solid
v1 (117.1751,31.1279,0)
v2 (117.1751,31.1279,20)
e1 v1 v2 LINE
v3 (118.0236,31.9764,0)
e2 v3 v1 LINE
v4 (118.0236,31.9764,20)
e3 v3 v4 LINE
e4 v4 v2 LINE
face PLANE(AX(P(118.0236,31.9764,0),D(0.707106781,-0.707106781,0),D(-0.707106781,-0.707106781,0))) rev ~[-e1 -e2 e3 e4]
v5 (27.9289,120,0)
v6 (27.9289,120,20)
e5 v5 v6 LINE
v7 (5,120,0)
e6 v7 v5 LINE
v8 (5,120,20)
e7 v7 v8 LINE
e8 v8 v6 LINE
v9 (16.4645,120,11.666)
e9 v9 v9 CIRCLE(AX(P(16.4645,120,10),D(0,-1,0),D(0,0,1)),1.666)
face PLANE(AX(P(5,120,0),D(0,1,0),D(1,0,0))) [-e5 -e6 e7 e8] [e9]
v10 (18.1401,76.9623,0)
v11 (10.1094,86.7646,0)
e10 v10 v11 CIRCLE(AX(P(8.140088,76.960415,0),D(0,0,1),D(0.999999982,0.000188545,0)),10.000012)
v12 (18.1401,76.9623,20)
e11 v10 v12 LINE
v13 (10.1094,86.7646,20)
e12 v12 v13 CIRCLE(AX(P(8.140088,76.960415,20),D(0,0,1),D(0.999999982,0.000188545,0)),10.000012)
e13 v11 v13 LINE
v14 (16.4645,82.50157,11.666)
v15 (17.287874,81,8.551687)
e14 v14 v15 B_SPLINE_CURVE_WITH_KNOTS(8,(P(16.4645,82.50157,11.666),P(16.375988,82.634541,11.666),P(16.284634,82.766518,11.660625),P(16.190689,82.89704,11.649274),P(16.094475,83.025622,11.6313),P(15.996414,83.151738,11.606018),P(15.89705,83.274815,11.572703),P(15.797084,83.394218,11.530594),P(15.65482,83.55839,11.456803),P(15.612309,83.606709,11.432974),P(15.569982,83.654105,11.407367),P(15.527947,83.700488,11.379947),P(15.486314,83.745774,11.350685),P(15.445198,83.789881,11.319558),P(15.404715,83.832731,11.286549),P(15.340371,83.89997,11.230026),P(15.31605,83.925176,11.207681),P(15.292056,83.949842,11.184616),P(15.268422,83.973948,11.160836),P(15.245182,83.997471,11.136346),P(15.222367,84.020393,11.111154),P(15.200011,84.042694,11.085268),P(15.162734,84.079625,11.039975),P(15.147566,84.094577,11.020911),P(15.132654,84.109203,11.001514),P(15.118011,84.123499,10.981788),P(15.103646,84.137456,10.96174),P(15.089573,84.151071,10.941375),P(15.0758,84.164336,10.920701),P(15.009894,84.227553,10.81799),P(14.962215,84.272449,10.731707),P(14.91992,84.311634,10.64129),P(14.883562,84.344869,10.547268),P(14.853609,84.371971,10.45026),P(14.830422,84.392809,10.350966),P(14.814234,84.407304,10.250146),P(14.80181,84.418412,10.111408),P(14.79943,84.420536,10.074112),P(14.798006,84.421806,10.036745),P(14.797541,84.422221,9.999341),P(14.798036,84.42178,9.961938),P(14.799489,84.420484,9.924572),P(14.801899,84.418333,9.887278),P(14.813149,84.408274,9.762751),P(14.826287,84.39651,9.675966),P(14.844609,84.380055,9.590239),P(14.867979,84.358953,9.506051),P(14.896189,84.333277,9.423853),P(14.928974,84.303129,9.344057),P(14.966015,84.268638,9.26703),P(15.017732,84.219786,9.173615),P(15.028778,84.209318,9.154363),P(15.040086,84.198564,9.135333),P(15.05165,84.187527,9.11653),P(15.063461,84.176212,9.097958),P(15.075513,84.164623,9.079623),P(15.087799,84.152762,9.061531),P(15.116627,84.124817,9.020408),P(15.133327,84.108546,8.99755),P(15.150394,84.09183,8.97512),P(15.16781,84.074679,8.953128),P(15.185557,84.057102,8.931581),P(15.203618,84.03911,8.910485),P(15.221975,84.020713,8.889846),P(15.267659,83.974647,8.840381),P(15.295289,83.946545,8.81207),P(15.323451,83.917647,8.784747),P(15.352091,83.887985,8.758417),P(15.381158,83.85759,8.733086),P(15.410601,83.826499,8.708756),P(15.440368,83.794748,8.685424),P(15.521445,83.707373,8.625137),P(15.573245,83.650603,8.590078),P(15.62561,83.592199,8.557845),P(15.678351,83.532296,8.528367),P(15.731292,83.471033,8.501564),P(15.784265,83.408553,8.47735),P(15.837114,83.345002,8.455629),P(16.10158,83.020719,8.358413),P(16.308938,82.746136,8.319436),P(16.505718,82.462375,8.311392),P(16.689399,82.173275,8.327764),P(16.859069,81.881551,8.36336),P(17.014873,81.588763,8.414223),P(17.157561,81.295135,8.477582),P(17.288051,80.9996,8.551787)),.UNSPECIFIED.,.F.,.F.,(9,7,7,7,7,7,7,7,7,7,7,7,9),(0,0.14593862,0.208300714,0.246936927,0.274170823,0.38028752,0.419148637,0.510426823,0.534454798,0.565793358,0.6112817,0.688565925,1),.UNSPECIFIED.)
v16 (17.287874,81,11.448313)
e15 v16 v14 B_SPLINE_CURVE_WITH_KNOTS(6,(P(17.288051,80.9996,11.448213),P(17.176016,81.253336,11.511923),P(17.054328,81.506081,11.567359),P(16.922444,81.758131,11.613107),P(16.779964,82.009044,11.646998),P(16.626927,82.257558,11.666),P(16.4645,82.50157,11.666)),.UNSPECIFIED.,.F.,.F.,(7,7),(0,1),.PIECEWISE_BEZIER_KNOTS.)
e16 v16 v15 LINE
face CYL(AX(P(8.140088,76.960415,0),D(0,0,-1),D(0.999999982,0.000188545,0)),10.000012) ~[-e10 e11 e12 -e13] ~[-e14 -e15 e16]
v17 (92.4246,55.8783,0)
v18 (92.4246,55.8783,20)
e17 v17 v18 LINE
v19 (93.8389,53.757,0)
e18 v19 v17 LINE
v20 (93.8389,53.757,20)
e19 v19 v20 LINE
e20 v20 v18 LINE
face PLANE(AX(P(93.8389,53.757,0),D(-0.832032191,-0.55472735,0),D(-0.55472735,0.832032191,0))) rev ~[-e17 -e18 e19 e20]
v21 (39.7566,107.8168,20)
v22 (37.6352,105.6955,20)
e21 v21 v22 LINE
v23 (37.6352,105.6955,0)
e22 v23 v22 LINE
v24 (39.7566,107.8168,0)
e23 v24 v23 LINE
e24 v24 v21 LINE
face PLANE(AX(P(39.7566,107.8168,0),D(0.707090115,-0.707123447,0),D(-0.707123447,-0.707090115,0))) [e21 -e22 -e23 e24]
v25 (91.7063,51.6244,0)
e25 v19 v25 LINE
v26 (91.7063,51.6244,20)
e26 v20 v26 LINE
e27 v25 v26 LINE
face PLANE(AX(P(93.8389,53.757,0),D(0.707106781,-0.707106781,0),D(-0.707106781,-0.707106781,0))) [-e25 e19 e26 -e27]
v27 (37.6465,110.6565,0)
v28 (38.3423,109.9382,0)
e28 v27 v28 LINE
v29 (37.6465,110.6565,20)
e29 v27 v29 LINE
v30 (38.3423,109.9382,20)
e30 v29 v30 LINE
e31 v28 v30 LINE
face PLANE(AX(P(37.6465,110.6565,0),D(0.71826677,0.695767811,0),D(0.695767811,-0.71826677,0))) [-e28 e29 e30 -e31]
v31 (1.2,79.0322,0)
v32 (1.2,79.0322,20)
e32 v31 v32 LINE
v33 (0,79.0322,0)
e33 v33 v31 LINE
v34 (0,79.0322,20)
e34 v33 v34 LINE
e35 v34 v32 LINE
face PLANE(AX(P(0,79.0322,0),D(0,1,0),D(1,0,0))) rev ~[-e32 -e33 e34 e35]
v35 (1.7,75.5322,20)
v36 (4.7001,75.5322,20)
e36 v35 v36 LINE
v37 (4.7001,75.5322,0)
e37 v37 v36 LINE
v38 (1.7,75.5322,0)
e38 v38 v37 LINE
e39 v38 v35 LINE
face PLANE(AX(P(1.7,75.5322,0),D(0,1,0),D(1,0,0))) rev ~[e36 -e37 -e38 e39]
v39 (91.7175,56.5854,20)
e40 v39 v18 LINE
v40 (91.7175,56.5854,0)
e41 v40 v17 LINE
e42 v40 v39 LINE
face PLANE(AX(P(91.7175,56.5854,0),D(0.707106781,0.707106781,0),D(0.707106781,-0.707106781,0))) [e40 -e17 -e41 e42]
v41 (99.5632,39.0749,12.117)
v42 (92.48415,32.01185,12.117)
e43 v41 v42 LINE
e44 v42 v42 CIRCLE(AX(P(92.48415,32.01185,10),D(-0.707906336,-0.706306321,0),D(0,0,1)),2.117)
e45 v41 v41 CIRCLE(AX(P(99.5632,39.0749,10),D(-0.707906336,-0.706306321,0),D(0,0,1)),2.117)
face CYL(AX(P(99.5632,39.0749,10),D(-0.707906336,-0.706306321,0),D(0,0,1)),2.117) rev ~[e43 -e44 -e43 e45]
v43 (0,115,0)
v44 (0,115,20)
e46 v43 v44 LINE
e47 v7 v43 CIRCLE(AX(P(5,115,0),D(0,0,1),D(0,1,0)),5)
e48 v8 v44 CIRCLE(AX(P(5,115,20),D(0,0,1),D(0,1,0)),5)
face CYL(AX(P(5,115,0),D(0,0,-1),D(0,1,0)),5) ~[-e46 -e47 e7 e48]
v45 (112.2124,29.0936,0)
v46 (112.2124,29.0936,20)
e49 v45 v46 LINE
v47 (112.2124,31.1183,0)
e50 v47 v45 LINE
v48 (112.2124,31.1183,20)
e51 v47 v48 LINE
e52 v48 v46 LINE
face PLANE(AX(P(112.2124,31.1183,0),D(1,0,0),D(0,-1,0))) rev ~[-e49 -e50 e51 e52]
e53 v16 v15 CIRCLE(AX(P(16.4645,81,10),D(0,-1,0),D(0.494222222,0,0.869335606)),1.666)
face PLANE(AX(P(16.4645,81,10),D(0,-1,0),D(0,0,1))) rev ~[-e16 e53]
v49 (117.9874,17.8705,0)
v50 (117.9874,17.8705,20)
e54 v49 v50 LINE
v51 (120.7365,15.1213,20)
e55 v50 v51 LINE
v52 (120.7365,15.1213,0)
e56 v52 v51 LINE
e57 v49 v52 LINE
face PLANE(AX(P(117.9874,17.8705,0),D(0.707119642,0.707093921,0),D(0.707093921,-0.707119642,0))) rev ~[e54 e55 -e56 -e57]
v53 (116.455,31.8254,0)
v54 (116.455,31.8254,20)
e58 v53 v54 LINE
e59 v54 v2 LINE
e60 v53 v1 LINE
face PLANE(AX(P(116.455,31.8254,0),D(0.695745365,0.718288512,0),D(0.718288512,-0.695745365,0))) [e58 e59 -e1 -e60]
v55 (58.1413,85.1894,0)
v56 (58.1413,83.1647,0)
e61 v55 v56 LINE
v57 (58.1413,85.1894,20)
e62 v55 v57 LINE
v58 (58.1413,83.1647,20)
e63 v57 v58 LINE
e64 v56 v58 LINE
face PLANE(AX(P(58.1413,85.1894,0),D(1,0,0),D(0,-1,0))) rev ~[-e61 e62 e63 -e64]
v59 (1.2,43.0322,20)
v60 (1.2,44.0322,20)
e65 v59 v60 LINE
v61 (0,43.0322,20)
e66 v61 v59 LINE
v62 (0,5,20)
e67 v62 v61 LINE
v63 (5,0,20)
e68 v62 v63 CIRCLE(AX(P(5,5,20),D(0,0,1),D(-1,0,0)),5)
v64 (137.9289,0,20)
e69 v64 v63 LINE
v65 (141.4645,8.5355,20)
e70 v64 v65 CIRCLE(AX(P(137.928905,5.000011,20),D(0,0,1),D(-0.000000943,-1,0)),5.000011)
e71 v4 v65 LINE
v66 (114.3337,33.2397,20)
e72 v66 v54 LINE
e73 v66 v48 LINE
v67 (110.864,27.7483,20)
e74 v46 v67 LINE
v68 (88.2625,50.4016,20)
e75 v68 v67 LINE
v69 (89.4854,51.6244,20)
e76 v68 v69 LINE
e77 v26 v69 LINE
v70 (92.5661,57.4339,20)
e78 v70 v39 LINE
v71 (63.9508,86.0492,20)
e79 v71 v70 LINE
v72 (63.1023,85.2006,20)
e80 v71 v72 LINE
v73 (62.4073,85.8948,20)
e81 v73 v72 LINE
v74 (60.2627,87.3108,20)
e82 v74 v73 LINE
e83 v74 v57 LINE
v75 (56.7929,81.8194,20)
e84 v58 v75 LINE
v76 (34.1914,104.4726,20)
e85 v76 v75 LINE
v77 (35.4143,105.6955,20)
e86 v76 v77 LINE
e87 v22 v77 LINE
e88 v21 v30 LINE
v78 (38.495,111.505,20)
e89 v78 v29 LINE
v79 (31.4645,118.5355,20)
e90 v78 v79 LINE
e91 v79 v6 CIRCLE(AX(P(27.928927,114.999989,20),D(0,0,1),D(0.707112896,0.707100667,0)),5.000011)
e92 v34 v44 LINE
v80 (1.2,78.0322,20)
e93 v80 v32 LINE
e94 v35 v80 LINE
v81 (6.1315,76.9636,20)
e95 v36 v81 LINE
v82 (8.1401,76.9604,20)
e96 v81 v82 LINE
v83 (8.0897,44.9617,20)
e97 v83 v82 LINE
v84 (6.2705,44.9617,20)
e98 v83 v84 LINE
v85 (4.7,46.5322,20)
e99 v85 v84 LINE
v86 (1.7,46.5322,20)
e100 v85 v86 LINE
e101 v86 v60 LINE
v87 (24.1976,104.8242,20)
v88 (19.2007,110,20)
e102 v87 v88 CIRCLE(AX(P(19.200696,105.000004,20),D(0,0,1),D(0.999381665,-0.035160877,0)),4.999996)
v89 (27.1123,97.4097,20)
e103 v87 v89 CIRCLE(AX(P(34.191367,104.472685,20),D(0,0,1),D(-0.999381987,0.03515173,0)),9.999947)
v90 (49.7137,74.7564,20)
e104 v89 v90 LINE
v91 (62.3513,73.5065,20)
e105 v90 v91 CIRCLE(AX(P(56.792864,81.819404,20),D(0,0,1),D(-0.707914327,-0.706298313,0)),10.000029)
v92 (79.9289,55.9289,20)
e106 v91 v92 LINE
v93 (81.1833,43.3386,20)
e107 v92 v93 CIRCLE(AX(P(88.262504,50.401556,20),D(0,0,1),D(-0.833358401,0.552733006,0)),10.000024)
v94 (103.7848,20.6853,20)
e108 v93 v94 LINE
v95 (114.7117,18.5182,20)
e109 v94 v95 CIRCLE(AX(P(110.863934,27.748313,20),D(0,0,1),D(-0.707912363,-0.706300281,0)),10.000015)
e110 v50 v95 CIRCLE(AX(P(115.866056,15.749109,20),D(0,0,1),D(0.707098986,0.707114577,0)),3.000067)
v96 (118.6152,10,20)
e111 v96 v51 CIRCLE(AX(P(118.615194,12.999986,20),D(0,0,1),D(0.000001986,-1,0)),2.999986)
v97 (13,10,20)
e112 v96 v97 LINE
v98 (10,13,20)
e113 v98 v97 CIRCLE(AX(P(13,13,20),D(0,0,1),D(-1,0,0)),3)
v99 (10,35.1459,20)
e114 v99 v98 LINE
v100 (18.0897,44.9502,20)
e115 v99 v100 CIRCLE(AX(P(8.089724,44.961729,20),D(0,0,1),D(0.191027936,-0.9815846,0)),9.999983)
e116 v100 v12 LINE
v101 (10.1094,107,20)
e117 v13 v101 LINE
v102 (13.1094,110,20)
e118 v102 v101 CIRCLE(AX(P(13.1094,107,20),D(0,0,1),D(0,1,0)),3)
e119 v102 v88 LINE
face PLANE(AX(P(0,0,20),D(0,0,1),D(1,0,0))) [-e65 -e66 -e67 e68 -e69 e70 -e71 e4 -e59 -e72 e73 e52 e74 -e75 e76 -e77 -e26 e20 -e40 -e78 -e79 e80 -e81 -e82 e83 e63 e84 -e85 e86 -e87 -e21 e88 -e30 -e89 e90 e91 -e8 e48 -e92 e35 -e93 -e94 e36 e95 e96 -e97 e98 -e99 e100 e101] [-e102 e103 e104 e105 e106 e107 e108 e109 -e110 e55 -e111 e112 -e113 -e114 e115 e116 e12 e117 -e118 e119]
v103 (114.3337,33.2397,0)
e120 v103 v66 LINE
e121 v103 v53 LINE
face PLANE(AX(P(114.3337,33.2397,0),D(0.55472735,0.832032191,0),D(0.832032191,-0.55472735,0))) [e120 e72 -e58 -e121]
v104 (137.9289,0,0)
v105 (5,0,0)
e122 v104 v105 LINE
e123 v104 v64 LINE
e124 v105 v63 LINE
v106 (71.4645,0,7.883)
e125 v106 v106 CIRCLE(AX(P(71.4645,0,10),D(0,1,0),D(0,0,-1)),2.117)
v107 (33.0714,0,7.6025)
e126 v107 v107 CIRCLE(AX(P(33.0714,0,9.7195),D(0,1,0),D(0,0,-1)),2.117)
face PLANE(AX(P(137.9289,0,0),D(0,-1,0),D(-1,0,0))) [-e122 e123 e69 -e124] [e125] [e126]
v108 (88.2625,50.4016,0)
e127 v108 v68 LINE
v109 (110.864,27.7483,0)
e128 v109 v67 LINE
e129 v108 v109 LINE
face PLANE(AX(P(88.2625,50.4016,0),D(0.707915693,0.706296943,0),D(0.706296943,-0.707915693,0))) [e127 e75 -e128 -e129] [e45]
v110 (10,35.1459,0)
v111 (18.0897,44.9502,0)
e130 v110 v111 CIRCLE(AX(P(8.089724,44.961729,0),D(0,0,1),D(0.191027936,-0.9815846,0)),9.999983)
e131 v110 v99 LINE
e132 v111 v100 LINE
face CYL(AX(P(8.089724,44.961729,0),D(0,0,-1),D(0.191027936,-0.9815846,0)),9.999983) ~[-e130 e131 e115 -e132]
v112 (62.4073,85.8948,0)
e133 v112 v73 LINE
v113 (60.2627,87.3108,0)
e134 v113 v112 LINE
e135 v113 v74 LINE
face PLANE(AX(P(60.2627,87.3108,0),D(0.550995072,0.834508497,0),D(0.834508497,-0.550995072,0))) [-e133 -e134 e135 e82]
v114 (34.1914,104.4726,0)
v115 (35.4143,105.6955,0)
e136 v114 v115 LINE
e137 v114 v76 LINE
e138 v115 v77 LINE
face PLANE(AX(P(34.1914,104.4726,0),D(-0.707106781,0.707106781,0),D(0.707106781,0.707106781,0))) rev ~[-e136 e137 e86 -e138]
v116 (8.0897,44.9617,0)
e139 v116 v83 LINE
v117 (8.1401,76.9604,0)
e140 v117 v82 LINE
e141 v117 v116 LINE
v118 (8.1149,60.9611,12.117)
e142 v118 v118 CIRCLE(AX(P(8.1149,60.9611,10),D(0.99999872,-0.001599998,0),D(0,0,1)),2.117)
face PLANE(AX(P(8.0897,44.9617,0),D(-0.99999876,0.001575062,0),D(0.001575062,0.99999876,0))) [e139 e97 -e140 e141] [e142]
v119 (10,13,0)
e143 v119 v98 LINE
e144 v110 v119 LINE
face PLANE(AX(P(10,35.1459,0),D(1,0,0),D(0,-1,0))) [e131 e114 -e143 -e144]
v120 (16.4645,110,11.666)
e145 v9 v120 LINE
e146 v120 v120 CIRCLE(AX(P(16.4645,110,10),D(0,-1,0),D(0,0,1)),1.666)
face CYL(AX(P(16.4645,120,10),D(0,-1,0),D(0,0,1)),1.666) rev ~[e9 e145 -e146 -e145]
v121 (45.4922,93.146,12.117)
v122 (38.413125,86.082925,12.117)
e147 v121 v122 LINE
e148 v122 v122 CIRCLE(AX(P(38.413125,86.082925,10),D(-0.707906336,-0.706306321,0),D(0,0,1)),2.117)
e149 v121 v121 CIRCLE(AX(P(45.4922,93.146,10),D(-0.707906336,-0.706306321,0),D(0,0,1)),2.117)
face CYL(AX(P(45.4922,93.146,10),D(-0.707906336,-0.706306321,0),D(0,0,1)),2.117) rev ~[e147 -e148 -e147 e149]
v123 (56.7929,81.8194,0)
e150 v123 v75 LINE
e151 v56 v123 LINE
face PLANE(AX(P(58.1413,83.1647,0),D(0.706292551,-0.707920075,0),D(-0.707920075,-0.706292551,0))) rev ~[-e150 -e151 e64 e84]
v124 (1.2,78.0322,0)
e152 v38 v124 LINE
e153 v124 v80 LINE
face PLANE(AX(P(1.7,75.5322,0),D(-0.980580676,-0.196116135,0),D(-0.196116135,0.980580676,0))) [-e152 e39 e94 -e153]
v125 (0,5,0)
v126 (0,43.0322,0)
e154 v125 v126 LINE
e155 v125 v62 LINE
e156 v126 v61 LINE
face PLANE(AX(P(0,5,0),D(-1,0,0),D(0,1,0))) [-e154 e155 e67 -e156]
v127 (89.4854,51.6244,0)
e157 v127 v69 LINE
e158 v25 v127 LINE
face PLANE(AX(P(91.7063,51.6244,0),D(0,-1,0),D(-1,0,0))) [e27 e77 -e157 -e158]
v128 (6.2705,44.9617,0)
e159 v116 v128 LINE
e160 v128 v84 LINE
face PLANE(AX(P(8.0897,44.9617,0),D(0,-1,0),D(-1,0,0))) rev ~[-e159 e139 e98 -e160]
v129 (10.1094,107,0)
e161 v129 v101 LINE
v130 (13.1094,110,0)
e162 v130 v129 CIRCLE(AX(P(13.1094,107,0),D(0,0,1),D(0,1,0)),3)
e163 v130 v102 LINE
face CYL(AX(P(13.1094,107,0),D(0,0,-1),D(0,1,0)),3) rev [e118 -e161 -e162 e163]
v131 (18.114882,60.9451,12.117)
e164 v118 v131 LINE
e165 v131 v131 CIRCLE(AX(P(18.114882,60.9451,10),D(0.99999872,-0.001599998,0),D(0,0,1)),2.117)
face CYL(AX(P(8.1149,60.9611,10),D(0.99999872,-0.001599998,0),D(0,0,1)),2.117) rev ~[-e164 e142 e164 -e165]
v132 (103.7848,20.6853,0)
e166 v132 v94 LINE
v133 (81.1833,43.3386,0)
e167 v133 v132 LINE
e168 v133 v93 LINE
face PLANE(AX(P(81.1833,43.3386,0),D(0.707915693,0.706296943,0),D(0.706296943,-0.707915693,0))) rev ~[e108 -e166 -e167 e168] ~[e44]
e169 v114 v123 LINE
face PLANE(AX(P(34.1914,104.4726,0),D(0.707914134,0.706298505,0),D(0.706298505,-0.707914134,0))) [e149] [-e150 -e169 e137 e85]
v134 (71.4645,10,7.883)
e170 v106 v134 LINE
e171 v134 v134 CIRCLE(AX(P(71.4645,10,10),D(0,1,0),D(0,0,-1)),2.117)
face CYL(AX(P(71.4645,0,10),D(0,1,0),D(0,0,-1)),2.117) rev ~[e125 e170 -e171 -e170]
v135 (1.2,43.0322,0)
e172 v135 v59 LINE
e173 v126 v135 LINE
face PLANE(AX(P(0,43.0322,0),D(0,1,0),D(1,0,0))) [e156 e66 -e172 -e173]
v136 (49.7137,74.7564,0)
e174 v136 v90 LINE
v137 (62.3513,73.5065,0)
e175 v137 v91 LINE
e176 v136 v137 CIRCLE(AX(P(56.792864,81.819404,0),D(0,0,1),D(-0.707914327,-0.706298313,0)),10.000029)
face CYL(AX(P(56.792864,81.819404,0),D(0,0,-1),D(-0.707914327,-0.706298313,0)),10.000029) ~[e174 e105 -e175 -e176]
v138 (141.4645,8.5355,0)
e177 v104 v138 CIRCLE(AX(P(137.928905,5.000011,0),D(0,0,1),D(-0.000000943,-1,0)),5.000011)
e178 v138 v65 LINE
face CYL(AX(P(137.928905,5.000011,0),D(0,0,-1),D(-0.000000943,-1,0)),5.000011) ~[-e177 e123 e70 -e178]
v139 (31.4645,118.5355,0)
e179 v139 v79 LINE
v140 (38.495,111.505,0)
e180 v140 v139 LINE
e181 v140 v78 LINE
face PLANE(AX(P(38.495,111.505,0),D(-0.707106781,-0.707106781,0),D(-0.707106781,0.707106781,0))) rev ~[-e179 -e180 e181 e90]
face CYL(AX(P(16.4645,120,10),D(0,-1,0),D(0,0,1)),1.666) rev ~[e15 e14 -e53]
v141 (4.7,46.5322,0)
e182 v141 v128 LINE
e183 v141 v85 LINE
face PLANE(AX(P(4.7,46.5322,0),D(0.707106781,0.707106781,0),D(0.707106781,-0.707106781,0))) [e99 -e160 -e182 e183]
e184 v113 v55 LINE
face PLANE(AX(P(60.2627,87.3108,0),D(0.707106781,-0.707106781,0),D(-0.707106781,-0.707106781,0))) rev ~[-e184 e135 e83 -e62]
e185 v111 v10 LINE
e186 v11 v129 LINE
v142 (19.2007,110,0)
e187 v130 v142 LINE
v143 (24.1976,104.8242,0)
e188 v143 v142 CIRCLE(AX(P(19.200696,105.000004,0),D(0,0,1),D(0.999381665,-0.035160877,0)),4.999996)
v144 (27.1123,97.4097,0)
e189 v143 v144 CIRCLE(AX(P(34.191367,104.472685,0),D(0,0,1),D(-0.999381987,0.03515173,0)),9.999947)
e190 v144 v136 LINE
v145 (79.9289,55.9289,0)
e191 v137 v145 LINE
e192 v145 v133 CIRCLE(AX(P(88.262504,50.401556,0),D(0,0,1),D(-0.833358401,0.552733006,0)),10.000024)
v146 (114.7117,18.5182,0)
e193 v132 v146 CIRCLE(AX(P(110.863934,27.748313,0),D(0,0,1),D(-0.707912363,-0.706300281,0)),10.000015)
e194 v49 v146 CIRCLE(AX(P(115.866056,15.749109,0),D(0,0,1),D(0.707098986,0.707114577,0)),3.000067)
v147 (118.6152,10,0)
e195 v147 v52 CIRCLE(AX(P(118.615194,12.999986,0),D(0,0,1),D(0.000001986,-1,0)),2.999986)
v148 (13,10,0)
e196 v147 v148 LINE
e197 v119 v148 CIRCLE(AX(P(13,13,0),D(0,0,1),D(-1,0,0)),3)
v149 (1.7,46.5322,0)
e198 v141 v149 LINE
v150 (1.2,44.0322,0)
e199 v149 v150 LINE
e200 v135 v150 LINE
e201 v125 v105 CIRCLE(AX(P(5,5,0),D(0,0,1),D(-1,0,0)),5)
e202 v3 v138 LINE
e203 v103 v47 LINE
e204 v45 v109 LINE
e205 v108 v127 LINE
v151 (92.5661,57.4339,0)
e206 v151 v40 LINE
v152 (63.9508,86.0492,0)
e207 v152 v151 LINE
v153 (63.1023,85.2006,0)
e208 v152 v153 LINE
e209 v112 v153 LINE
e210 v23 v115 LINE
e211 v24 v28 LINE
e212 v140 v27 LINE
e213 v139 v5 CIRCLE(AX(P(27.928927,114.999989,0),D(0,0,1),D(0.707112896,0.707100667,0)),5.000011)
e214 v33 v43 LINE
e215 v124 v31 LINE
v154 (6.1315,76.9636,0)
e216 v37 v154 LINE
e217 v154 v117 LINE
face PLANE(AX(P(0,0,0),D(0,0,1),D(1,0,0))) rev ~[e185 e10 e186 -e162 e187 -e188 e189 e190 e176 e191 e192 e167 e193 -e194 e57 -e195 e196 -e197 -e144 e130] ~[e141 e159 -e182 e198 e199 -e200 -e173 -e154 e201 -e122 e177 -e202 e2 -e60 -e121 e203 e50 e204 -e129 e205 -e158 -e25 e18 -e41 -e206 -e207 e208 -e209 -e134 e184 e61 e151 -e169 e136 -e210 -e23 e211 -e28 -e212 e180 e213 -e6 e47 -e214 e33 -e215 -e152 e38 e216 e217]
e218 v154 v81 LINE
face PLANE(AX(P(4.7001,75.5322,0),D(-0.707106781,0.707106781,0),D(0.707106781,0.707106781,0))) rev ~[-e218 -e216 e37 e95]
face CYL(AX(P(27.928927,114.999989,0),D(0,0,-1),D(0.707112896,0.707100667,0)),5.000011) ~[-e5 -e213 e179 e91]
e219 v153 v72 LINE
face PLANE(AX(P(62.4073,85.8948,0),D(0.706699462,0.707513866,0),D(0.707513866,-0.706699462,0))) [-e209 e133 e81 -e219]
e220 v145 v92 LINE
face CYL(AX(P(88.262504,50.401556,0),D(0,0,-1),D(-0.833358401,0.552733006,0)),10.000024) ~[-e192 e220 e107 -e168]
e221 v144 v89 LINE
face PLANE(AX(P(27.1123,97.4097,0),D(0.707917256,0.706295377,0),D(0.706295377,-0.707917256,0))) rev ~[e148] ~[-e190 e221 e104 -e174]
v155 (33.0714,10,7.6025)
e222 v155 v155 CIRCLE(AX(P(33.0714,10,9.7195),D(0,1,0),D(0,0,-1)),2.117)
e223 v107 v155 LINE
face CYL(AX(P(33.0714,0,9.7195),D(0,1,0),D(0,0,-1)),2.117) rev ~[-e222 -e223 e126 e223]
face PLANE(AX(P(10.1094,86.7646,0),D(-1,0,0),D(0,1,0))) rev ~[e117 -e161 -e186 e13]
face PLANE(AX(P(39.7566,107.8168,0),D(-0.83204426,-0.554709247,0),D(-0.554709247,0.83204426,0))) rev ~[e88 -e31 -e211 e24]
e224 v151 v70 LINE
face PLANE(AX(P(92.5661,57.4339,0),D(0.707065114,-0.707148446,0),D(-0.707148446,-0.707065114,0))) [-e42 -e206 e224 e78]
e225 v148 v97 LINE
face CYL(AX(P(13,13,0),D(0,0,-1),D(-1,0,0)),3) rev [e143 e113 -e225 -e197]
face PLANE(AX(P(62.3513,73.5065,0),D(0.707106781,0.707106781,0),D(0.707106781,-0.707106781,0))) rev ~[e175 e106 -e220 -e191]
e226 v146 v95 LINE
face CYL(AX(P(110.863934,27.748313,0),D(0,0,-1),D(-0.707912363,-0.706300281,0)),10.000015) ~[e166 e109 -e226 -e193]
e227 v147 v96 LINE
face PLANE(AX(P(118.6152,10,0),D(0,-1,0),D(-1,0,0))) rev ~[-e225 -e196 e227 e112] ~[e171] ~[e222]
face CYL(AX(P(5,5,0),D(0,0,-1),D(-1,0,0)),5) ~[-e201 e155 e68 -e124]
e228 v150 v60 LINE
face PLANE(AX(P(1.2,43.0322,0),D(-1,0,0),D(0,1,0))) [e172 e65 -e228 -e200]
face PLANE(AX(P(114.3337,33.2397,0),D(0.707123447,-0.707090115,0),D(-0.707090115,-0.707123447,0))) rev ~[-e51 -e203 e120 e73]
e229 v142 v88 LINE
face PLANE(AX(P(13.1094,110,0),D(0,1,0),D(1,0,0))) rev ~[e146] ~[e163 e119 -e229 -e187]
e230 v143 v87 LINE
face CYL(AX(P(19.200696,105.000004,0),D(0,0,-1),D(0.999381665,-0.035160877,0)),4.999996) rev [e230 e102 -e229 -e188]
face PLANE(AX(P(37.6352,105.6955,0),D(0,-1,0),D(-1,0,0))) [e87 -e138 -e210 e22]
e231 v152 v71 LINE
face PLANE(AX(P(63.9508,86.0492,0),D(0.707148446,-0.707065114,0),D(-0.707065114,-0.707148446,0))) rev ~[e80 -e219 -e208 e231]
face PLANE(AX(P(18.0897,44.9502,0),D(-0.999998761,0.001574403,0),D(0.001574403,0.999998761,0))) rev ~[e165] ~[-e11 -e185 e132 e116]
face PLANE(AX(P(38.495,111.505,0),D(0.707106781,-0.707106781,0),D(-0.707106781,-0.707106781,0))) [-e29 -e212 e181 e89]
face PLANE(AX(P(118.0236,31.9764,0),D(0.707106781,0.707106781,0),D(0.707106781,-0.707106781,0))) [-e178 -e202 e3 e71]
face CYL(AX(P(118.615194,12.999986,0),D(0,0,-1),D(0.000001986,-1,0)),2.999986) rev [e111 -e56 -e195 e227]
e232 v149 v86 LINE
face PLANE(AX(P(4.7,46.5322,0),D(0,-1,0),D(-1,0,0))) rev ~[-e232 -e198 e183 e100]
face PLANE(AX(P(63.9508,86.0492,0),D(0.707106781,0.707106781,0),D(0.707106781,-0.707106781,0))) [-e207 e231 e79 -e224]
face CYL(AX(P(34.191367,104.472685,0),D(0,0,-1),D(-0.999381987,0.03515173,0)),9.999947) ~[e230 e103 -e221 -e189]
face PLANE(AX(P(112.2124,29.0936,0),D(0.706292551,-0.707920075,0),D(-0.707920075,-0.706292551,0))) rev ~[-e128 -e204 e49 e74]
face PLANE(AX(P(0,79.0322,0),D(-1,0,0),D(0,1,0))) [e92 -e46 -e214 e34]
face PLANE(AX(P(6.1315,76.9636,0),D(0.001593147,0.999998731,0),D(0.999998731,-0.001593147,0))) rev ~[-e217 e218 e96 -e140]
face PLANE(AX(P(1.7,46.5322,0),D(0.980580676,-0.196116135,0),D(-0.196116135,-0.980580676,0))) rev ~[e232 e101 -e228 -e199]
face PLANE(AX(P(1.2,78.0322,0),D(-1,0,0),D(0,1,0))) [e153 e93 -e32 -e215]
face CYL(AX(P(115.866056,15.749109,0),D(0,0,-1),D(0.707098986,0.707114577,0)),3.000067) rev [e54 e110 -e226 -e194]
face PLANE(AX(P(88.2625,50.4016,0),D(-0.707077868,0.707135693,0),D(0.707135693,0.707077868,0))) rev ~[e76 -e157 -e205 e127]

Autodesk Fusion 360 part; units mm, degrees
sketch "スケッチ16" plane through (0, 0, 0) normal (0, 0, 1) x (1, 0, 0)
  line L0 (8.0897, 44.9617) -> (8.1401, 76.9604)
  line L1 (0, 79.0322) -> (1.2, 79.0322)
  line L2 (0, 43.0322) -> (1.2, 43.0322)
  line L3 (0, 5) -> (0, 43.0322)
  arc A0 (5, 120) -> (0, 115) centre (5, 115) ccw
  line L4 (5, 120) -> (27.9289, 120)
  line L5 (137.9289, 0) -> (5, 0)
  arc A1 (0, 5) -> (5, 0) centre (5, 5) ccw
  line L6 (1.7, 75.5322) -> (1.2, 78.0322)
  line L7 (1.2, 43.0322) -> (1.2, 44.0322)
  line L8 (1.7, 75.5322) -> (4.7001, 75.5322)
  line L9 (1.2, 78.0322) -> (1.2, 79.0322)
  line L10 (10.1094, 86.7646) -> (10.1094, 107)
  line L11 (18.0897, 44.9502) -> (18.1401, 76.9623)
  line L12 (8.0897, 44.9617) -> (6.2705, 44.9617)
  arc A2 (18.1401, 76.9623) -> (10.1094, 86.7646) centre (8.1401, 76.9604) ccw
  line L13 (10, 35.1459) -> (10, 13)
  arc A3 (10, 35.1459) -> (18.0897, 44.9502) centre (8.0897, 44.9617) ccw
  arc A4 (49.7137, 74.7564) -> (62.3513, 73.5065) centre (56.7929, 81.8194) ccw
  line L14 (27.1123, 97.4097) -> (49.7137, 74.7564)
  arc A5 (24.1976, 104.8242) -> (27.1123, 97.4097) centre (34.1914, 104.4726) ccw
  line L15 (58.1413, 85.1894) -> (58.1413, 83.1647)
  line L16 (60.2627, 87.3108) -> (58.1413, 85.1894)
  line L17 (60.2627, 87.3108) -> (62.4073, 85.8948)
  line L18 (62.4073, 85.8948) -> (63.1023, 85.2006)
  line L19 (63.9508, 86.0492) -> (63.1023, 85.2006)
  line L20 (37.6352, 105.6955) -> (35.4143, 105.6955)
  line L21 (39.7566, 107.8168) -> (37.6352, 105.6955)
  line L22 (39.7566, 107.8168) -> (38.3423, 109.9382)
  line L23 (37.6465, 110.6565) -> (38.3423, 109.9382)
  line L24 (38.495, 111.505) -> (37.6465, 110.6565)
  line L25 (62.3513, 73.5065) -> (79.9289, 55.9289)
  line L26 (13.1094, 110) -> (19.2007, 110)
  line L27 (112.2124, 31.1183) -> (112.2124, 29.0936)
  line L28 (93.8389, 53.757) -> (91.7063, 51.6244)
  line L29 (88.2625, 50.4016) -> (110.864, 27.7483)
  line L30 (88.2625, 50.4016) -> (89.4854, 51.6244)
  line L31 (114.3337, 33.2397) -> (116.455, 31.8254)
  line L32 (114.3337, 33.2397) -> (112.2124, 31.1183)
  line L33 (91.7063, 51.6244) -> (89.4854, 51.6244)
  line L34 (91.7175, 56.5854) -> (92.4246, 55.8783)
  line L35 (81.1833, 43.3386) -> (103.7848, 20.6853)
  arc A6 (103.7848, 20.6853) -> (114.7117, 18.5182) centre (110.864, 27.7483) ccw
  line L36 (118.0236, 31.9764) -> (117.1751, 31.1279)
  arc A7 (79.9289, 55.9289) -> (81.1833, 43.3386) centre (88.2625, 50.4016) ccw
  line L37 (116.455, 31.8254) -> (117.1751, 31.1279)
  line L38 (93.8389, 53.757) -> (92.4246, 55.8783)
  line L39 (92.5661, 57.4339) -> (91.7175, 56.5854)
  line L40 (117.9874, 17.8705) -> (120.7365, 15.1213)
  arc A8 (13.1094, 110) -> (10.1094, 107) centre (13.1094, 107) ccw
  arc A9 (24.1976, 104.8242) -> (19.2007, 110) centre (19.2007, 105) ccw
  line L41 (118.6152, 10) -> (13, 10)
  arc A10 (10, 13) -> (13, 10) centre (13, 13) ccw
  arc A11 (118.6152, 10) -> (120.7365, 15.1213) centre (118.6152, 13) ccw
  line L42 (0, 79.0322) -> (0, 115)
  line L43 (38.495, 111.505) -> (31.4645, 118.5355)
  line L44 (63.9508, 86.0492) -> (92.5661, 57.4339)
  line L45 (118.0236, 31.9764) -> (141.4645, 8.5355)
  arc A12 (117.9874, 17.8705) -> (114.7117, 18.5182) centre (115.8661, 15.7491) ccw
  arc A13 (31.4645, 118.5355) -> (27.9289, 120) centre (27.9289, 115) ccw
  line L46 (4.7001, 75.5322) -> (6.1315, 76.9636)
  line L47 (4.7, 46.5322) -> (6.2705, 44.9617)
  arc A14 (137.9289, 0) -> (141.4645, 8.5355) centre (137.9289, 5) ccw
  line L48 (34.1914, 104.4726) -> (56.7929, 81.8194)
  line L49 (34.1914, 104.4726) -> (35.4143, 105.6955)
  line L50 (58.1413, 83.1647) -> (56.7929, 81.8194)
  line L51 (6.1315, 76.9636) -> (8.1401, 76.9604)
  line L52 (112.2124, 29.0936) -> (110.864, 27.7483)
  line L53 (4.7, 46.5322) -> (1.7, 46.5322)
  line L54 (1.7, 46.5322) -> (1.2, 44.0322)
  line L55 (8.0897, 44.9617) -> (8.1149, 60.9611)
extrude "押し出し1" add sketch "スケッチ16" along normal blind 20
hole "穴1" at (8.1149, 60.9611, 10) direction (1, -0.0016, 0) diameter 4.234 depth 13 tip angle 118
hole "穴2" at (99.5632, 39.0749, 10) direction (-0.7079, -0.7063, 0) diameter 4.234 depth 13 tip angle 118
hole "穴3" at (45.4922, 93.146, 10) direction (-0.7079, -0.7063, 0) diameter 4.234 depth 13 tip angle 118
hole "穴4" at (71.4645, 0, 10) direction (0, 1, 0) diameter 4.234 depth 13 tip angle 118
hole "穴5" at (33.0714, 0, 9.7195) direction (0, 1, 0) diameter 4.234 depth 13 tip angle 118
hole "穴6" at (16.4645, 120, 10) direction (0, -1, 0) diameter 3.332 depth 39 tip angle 180
